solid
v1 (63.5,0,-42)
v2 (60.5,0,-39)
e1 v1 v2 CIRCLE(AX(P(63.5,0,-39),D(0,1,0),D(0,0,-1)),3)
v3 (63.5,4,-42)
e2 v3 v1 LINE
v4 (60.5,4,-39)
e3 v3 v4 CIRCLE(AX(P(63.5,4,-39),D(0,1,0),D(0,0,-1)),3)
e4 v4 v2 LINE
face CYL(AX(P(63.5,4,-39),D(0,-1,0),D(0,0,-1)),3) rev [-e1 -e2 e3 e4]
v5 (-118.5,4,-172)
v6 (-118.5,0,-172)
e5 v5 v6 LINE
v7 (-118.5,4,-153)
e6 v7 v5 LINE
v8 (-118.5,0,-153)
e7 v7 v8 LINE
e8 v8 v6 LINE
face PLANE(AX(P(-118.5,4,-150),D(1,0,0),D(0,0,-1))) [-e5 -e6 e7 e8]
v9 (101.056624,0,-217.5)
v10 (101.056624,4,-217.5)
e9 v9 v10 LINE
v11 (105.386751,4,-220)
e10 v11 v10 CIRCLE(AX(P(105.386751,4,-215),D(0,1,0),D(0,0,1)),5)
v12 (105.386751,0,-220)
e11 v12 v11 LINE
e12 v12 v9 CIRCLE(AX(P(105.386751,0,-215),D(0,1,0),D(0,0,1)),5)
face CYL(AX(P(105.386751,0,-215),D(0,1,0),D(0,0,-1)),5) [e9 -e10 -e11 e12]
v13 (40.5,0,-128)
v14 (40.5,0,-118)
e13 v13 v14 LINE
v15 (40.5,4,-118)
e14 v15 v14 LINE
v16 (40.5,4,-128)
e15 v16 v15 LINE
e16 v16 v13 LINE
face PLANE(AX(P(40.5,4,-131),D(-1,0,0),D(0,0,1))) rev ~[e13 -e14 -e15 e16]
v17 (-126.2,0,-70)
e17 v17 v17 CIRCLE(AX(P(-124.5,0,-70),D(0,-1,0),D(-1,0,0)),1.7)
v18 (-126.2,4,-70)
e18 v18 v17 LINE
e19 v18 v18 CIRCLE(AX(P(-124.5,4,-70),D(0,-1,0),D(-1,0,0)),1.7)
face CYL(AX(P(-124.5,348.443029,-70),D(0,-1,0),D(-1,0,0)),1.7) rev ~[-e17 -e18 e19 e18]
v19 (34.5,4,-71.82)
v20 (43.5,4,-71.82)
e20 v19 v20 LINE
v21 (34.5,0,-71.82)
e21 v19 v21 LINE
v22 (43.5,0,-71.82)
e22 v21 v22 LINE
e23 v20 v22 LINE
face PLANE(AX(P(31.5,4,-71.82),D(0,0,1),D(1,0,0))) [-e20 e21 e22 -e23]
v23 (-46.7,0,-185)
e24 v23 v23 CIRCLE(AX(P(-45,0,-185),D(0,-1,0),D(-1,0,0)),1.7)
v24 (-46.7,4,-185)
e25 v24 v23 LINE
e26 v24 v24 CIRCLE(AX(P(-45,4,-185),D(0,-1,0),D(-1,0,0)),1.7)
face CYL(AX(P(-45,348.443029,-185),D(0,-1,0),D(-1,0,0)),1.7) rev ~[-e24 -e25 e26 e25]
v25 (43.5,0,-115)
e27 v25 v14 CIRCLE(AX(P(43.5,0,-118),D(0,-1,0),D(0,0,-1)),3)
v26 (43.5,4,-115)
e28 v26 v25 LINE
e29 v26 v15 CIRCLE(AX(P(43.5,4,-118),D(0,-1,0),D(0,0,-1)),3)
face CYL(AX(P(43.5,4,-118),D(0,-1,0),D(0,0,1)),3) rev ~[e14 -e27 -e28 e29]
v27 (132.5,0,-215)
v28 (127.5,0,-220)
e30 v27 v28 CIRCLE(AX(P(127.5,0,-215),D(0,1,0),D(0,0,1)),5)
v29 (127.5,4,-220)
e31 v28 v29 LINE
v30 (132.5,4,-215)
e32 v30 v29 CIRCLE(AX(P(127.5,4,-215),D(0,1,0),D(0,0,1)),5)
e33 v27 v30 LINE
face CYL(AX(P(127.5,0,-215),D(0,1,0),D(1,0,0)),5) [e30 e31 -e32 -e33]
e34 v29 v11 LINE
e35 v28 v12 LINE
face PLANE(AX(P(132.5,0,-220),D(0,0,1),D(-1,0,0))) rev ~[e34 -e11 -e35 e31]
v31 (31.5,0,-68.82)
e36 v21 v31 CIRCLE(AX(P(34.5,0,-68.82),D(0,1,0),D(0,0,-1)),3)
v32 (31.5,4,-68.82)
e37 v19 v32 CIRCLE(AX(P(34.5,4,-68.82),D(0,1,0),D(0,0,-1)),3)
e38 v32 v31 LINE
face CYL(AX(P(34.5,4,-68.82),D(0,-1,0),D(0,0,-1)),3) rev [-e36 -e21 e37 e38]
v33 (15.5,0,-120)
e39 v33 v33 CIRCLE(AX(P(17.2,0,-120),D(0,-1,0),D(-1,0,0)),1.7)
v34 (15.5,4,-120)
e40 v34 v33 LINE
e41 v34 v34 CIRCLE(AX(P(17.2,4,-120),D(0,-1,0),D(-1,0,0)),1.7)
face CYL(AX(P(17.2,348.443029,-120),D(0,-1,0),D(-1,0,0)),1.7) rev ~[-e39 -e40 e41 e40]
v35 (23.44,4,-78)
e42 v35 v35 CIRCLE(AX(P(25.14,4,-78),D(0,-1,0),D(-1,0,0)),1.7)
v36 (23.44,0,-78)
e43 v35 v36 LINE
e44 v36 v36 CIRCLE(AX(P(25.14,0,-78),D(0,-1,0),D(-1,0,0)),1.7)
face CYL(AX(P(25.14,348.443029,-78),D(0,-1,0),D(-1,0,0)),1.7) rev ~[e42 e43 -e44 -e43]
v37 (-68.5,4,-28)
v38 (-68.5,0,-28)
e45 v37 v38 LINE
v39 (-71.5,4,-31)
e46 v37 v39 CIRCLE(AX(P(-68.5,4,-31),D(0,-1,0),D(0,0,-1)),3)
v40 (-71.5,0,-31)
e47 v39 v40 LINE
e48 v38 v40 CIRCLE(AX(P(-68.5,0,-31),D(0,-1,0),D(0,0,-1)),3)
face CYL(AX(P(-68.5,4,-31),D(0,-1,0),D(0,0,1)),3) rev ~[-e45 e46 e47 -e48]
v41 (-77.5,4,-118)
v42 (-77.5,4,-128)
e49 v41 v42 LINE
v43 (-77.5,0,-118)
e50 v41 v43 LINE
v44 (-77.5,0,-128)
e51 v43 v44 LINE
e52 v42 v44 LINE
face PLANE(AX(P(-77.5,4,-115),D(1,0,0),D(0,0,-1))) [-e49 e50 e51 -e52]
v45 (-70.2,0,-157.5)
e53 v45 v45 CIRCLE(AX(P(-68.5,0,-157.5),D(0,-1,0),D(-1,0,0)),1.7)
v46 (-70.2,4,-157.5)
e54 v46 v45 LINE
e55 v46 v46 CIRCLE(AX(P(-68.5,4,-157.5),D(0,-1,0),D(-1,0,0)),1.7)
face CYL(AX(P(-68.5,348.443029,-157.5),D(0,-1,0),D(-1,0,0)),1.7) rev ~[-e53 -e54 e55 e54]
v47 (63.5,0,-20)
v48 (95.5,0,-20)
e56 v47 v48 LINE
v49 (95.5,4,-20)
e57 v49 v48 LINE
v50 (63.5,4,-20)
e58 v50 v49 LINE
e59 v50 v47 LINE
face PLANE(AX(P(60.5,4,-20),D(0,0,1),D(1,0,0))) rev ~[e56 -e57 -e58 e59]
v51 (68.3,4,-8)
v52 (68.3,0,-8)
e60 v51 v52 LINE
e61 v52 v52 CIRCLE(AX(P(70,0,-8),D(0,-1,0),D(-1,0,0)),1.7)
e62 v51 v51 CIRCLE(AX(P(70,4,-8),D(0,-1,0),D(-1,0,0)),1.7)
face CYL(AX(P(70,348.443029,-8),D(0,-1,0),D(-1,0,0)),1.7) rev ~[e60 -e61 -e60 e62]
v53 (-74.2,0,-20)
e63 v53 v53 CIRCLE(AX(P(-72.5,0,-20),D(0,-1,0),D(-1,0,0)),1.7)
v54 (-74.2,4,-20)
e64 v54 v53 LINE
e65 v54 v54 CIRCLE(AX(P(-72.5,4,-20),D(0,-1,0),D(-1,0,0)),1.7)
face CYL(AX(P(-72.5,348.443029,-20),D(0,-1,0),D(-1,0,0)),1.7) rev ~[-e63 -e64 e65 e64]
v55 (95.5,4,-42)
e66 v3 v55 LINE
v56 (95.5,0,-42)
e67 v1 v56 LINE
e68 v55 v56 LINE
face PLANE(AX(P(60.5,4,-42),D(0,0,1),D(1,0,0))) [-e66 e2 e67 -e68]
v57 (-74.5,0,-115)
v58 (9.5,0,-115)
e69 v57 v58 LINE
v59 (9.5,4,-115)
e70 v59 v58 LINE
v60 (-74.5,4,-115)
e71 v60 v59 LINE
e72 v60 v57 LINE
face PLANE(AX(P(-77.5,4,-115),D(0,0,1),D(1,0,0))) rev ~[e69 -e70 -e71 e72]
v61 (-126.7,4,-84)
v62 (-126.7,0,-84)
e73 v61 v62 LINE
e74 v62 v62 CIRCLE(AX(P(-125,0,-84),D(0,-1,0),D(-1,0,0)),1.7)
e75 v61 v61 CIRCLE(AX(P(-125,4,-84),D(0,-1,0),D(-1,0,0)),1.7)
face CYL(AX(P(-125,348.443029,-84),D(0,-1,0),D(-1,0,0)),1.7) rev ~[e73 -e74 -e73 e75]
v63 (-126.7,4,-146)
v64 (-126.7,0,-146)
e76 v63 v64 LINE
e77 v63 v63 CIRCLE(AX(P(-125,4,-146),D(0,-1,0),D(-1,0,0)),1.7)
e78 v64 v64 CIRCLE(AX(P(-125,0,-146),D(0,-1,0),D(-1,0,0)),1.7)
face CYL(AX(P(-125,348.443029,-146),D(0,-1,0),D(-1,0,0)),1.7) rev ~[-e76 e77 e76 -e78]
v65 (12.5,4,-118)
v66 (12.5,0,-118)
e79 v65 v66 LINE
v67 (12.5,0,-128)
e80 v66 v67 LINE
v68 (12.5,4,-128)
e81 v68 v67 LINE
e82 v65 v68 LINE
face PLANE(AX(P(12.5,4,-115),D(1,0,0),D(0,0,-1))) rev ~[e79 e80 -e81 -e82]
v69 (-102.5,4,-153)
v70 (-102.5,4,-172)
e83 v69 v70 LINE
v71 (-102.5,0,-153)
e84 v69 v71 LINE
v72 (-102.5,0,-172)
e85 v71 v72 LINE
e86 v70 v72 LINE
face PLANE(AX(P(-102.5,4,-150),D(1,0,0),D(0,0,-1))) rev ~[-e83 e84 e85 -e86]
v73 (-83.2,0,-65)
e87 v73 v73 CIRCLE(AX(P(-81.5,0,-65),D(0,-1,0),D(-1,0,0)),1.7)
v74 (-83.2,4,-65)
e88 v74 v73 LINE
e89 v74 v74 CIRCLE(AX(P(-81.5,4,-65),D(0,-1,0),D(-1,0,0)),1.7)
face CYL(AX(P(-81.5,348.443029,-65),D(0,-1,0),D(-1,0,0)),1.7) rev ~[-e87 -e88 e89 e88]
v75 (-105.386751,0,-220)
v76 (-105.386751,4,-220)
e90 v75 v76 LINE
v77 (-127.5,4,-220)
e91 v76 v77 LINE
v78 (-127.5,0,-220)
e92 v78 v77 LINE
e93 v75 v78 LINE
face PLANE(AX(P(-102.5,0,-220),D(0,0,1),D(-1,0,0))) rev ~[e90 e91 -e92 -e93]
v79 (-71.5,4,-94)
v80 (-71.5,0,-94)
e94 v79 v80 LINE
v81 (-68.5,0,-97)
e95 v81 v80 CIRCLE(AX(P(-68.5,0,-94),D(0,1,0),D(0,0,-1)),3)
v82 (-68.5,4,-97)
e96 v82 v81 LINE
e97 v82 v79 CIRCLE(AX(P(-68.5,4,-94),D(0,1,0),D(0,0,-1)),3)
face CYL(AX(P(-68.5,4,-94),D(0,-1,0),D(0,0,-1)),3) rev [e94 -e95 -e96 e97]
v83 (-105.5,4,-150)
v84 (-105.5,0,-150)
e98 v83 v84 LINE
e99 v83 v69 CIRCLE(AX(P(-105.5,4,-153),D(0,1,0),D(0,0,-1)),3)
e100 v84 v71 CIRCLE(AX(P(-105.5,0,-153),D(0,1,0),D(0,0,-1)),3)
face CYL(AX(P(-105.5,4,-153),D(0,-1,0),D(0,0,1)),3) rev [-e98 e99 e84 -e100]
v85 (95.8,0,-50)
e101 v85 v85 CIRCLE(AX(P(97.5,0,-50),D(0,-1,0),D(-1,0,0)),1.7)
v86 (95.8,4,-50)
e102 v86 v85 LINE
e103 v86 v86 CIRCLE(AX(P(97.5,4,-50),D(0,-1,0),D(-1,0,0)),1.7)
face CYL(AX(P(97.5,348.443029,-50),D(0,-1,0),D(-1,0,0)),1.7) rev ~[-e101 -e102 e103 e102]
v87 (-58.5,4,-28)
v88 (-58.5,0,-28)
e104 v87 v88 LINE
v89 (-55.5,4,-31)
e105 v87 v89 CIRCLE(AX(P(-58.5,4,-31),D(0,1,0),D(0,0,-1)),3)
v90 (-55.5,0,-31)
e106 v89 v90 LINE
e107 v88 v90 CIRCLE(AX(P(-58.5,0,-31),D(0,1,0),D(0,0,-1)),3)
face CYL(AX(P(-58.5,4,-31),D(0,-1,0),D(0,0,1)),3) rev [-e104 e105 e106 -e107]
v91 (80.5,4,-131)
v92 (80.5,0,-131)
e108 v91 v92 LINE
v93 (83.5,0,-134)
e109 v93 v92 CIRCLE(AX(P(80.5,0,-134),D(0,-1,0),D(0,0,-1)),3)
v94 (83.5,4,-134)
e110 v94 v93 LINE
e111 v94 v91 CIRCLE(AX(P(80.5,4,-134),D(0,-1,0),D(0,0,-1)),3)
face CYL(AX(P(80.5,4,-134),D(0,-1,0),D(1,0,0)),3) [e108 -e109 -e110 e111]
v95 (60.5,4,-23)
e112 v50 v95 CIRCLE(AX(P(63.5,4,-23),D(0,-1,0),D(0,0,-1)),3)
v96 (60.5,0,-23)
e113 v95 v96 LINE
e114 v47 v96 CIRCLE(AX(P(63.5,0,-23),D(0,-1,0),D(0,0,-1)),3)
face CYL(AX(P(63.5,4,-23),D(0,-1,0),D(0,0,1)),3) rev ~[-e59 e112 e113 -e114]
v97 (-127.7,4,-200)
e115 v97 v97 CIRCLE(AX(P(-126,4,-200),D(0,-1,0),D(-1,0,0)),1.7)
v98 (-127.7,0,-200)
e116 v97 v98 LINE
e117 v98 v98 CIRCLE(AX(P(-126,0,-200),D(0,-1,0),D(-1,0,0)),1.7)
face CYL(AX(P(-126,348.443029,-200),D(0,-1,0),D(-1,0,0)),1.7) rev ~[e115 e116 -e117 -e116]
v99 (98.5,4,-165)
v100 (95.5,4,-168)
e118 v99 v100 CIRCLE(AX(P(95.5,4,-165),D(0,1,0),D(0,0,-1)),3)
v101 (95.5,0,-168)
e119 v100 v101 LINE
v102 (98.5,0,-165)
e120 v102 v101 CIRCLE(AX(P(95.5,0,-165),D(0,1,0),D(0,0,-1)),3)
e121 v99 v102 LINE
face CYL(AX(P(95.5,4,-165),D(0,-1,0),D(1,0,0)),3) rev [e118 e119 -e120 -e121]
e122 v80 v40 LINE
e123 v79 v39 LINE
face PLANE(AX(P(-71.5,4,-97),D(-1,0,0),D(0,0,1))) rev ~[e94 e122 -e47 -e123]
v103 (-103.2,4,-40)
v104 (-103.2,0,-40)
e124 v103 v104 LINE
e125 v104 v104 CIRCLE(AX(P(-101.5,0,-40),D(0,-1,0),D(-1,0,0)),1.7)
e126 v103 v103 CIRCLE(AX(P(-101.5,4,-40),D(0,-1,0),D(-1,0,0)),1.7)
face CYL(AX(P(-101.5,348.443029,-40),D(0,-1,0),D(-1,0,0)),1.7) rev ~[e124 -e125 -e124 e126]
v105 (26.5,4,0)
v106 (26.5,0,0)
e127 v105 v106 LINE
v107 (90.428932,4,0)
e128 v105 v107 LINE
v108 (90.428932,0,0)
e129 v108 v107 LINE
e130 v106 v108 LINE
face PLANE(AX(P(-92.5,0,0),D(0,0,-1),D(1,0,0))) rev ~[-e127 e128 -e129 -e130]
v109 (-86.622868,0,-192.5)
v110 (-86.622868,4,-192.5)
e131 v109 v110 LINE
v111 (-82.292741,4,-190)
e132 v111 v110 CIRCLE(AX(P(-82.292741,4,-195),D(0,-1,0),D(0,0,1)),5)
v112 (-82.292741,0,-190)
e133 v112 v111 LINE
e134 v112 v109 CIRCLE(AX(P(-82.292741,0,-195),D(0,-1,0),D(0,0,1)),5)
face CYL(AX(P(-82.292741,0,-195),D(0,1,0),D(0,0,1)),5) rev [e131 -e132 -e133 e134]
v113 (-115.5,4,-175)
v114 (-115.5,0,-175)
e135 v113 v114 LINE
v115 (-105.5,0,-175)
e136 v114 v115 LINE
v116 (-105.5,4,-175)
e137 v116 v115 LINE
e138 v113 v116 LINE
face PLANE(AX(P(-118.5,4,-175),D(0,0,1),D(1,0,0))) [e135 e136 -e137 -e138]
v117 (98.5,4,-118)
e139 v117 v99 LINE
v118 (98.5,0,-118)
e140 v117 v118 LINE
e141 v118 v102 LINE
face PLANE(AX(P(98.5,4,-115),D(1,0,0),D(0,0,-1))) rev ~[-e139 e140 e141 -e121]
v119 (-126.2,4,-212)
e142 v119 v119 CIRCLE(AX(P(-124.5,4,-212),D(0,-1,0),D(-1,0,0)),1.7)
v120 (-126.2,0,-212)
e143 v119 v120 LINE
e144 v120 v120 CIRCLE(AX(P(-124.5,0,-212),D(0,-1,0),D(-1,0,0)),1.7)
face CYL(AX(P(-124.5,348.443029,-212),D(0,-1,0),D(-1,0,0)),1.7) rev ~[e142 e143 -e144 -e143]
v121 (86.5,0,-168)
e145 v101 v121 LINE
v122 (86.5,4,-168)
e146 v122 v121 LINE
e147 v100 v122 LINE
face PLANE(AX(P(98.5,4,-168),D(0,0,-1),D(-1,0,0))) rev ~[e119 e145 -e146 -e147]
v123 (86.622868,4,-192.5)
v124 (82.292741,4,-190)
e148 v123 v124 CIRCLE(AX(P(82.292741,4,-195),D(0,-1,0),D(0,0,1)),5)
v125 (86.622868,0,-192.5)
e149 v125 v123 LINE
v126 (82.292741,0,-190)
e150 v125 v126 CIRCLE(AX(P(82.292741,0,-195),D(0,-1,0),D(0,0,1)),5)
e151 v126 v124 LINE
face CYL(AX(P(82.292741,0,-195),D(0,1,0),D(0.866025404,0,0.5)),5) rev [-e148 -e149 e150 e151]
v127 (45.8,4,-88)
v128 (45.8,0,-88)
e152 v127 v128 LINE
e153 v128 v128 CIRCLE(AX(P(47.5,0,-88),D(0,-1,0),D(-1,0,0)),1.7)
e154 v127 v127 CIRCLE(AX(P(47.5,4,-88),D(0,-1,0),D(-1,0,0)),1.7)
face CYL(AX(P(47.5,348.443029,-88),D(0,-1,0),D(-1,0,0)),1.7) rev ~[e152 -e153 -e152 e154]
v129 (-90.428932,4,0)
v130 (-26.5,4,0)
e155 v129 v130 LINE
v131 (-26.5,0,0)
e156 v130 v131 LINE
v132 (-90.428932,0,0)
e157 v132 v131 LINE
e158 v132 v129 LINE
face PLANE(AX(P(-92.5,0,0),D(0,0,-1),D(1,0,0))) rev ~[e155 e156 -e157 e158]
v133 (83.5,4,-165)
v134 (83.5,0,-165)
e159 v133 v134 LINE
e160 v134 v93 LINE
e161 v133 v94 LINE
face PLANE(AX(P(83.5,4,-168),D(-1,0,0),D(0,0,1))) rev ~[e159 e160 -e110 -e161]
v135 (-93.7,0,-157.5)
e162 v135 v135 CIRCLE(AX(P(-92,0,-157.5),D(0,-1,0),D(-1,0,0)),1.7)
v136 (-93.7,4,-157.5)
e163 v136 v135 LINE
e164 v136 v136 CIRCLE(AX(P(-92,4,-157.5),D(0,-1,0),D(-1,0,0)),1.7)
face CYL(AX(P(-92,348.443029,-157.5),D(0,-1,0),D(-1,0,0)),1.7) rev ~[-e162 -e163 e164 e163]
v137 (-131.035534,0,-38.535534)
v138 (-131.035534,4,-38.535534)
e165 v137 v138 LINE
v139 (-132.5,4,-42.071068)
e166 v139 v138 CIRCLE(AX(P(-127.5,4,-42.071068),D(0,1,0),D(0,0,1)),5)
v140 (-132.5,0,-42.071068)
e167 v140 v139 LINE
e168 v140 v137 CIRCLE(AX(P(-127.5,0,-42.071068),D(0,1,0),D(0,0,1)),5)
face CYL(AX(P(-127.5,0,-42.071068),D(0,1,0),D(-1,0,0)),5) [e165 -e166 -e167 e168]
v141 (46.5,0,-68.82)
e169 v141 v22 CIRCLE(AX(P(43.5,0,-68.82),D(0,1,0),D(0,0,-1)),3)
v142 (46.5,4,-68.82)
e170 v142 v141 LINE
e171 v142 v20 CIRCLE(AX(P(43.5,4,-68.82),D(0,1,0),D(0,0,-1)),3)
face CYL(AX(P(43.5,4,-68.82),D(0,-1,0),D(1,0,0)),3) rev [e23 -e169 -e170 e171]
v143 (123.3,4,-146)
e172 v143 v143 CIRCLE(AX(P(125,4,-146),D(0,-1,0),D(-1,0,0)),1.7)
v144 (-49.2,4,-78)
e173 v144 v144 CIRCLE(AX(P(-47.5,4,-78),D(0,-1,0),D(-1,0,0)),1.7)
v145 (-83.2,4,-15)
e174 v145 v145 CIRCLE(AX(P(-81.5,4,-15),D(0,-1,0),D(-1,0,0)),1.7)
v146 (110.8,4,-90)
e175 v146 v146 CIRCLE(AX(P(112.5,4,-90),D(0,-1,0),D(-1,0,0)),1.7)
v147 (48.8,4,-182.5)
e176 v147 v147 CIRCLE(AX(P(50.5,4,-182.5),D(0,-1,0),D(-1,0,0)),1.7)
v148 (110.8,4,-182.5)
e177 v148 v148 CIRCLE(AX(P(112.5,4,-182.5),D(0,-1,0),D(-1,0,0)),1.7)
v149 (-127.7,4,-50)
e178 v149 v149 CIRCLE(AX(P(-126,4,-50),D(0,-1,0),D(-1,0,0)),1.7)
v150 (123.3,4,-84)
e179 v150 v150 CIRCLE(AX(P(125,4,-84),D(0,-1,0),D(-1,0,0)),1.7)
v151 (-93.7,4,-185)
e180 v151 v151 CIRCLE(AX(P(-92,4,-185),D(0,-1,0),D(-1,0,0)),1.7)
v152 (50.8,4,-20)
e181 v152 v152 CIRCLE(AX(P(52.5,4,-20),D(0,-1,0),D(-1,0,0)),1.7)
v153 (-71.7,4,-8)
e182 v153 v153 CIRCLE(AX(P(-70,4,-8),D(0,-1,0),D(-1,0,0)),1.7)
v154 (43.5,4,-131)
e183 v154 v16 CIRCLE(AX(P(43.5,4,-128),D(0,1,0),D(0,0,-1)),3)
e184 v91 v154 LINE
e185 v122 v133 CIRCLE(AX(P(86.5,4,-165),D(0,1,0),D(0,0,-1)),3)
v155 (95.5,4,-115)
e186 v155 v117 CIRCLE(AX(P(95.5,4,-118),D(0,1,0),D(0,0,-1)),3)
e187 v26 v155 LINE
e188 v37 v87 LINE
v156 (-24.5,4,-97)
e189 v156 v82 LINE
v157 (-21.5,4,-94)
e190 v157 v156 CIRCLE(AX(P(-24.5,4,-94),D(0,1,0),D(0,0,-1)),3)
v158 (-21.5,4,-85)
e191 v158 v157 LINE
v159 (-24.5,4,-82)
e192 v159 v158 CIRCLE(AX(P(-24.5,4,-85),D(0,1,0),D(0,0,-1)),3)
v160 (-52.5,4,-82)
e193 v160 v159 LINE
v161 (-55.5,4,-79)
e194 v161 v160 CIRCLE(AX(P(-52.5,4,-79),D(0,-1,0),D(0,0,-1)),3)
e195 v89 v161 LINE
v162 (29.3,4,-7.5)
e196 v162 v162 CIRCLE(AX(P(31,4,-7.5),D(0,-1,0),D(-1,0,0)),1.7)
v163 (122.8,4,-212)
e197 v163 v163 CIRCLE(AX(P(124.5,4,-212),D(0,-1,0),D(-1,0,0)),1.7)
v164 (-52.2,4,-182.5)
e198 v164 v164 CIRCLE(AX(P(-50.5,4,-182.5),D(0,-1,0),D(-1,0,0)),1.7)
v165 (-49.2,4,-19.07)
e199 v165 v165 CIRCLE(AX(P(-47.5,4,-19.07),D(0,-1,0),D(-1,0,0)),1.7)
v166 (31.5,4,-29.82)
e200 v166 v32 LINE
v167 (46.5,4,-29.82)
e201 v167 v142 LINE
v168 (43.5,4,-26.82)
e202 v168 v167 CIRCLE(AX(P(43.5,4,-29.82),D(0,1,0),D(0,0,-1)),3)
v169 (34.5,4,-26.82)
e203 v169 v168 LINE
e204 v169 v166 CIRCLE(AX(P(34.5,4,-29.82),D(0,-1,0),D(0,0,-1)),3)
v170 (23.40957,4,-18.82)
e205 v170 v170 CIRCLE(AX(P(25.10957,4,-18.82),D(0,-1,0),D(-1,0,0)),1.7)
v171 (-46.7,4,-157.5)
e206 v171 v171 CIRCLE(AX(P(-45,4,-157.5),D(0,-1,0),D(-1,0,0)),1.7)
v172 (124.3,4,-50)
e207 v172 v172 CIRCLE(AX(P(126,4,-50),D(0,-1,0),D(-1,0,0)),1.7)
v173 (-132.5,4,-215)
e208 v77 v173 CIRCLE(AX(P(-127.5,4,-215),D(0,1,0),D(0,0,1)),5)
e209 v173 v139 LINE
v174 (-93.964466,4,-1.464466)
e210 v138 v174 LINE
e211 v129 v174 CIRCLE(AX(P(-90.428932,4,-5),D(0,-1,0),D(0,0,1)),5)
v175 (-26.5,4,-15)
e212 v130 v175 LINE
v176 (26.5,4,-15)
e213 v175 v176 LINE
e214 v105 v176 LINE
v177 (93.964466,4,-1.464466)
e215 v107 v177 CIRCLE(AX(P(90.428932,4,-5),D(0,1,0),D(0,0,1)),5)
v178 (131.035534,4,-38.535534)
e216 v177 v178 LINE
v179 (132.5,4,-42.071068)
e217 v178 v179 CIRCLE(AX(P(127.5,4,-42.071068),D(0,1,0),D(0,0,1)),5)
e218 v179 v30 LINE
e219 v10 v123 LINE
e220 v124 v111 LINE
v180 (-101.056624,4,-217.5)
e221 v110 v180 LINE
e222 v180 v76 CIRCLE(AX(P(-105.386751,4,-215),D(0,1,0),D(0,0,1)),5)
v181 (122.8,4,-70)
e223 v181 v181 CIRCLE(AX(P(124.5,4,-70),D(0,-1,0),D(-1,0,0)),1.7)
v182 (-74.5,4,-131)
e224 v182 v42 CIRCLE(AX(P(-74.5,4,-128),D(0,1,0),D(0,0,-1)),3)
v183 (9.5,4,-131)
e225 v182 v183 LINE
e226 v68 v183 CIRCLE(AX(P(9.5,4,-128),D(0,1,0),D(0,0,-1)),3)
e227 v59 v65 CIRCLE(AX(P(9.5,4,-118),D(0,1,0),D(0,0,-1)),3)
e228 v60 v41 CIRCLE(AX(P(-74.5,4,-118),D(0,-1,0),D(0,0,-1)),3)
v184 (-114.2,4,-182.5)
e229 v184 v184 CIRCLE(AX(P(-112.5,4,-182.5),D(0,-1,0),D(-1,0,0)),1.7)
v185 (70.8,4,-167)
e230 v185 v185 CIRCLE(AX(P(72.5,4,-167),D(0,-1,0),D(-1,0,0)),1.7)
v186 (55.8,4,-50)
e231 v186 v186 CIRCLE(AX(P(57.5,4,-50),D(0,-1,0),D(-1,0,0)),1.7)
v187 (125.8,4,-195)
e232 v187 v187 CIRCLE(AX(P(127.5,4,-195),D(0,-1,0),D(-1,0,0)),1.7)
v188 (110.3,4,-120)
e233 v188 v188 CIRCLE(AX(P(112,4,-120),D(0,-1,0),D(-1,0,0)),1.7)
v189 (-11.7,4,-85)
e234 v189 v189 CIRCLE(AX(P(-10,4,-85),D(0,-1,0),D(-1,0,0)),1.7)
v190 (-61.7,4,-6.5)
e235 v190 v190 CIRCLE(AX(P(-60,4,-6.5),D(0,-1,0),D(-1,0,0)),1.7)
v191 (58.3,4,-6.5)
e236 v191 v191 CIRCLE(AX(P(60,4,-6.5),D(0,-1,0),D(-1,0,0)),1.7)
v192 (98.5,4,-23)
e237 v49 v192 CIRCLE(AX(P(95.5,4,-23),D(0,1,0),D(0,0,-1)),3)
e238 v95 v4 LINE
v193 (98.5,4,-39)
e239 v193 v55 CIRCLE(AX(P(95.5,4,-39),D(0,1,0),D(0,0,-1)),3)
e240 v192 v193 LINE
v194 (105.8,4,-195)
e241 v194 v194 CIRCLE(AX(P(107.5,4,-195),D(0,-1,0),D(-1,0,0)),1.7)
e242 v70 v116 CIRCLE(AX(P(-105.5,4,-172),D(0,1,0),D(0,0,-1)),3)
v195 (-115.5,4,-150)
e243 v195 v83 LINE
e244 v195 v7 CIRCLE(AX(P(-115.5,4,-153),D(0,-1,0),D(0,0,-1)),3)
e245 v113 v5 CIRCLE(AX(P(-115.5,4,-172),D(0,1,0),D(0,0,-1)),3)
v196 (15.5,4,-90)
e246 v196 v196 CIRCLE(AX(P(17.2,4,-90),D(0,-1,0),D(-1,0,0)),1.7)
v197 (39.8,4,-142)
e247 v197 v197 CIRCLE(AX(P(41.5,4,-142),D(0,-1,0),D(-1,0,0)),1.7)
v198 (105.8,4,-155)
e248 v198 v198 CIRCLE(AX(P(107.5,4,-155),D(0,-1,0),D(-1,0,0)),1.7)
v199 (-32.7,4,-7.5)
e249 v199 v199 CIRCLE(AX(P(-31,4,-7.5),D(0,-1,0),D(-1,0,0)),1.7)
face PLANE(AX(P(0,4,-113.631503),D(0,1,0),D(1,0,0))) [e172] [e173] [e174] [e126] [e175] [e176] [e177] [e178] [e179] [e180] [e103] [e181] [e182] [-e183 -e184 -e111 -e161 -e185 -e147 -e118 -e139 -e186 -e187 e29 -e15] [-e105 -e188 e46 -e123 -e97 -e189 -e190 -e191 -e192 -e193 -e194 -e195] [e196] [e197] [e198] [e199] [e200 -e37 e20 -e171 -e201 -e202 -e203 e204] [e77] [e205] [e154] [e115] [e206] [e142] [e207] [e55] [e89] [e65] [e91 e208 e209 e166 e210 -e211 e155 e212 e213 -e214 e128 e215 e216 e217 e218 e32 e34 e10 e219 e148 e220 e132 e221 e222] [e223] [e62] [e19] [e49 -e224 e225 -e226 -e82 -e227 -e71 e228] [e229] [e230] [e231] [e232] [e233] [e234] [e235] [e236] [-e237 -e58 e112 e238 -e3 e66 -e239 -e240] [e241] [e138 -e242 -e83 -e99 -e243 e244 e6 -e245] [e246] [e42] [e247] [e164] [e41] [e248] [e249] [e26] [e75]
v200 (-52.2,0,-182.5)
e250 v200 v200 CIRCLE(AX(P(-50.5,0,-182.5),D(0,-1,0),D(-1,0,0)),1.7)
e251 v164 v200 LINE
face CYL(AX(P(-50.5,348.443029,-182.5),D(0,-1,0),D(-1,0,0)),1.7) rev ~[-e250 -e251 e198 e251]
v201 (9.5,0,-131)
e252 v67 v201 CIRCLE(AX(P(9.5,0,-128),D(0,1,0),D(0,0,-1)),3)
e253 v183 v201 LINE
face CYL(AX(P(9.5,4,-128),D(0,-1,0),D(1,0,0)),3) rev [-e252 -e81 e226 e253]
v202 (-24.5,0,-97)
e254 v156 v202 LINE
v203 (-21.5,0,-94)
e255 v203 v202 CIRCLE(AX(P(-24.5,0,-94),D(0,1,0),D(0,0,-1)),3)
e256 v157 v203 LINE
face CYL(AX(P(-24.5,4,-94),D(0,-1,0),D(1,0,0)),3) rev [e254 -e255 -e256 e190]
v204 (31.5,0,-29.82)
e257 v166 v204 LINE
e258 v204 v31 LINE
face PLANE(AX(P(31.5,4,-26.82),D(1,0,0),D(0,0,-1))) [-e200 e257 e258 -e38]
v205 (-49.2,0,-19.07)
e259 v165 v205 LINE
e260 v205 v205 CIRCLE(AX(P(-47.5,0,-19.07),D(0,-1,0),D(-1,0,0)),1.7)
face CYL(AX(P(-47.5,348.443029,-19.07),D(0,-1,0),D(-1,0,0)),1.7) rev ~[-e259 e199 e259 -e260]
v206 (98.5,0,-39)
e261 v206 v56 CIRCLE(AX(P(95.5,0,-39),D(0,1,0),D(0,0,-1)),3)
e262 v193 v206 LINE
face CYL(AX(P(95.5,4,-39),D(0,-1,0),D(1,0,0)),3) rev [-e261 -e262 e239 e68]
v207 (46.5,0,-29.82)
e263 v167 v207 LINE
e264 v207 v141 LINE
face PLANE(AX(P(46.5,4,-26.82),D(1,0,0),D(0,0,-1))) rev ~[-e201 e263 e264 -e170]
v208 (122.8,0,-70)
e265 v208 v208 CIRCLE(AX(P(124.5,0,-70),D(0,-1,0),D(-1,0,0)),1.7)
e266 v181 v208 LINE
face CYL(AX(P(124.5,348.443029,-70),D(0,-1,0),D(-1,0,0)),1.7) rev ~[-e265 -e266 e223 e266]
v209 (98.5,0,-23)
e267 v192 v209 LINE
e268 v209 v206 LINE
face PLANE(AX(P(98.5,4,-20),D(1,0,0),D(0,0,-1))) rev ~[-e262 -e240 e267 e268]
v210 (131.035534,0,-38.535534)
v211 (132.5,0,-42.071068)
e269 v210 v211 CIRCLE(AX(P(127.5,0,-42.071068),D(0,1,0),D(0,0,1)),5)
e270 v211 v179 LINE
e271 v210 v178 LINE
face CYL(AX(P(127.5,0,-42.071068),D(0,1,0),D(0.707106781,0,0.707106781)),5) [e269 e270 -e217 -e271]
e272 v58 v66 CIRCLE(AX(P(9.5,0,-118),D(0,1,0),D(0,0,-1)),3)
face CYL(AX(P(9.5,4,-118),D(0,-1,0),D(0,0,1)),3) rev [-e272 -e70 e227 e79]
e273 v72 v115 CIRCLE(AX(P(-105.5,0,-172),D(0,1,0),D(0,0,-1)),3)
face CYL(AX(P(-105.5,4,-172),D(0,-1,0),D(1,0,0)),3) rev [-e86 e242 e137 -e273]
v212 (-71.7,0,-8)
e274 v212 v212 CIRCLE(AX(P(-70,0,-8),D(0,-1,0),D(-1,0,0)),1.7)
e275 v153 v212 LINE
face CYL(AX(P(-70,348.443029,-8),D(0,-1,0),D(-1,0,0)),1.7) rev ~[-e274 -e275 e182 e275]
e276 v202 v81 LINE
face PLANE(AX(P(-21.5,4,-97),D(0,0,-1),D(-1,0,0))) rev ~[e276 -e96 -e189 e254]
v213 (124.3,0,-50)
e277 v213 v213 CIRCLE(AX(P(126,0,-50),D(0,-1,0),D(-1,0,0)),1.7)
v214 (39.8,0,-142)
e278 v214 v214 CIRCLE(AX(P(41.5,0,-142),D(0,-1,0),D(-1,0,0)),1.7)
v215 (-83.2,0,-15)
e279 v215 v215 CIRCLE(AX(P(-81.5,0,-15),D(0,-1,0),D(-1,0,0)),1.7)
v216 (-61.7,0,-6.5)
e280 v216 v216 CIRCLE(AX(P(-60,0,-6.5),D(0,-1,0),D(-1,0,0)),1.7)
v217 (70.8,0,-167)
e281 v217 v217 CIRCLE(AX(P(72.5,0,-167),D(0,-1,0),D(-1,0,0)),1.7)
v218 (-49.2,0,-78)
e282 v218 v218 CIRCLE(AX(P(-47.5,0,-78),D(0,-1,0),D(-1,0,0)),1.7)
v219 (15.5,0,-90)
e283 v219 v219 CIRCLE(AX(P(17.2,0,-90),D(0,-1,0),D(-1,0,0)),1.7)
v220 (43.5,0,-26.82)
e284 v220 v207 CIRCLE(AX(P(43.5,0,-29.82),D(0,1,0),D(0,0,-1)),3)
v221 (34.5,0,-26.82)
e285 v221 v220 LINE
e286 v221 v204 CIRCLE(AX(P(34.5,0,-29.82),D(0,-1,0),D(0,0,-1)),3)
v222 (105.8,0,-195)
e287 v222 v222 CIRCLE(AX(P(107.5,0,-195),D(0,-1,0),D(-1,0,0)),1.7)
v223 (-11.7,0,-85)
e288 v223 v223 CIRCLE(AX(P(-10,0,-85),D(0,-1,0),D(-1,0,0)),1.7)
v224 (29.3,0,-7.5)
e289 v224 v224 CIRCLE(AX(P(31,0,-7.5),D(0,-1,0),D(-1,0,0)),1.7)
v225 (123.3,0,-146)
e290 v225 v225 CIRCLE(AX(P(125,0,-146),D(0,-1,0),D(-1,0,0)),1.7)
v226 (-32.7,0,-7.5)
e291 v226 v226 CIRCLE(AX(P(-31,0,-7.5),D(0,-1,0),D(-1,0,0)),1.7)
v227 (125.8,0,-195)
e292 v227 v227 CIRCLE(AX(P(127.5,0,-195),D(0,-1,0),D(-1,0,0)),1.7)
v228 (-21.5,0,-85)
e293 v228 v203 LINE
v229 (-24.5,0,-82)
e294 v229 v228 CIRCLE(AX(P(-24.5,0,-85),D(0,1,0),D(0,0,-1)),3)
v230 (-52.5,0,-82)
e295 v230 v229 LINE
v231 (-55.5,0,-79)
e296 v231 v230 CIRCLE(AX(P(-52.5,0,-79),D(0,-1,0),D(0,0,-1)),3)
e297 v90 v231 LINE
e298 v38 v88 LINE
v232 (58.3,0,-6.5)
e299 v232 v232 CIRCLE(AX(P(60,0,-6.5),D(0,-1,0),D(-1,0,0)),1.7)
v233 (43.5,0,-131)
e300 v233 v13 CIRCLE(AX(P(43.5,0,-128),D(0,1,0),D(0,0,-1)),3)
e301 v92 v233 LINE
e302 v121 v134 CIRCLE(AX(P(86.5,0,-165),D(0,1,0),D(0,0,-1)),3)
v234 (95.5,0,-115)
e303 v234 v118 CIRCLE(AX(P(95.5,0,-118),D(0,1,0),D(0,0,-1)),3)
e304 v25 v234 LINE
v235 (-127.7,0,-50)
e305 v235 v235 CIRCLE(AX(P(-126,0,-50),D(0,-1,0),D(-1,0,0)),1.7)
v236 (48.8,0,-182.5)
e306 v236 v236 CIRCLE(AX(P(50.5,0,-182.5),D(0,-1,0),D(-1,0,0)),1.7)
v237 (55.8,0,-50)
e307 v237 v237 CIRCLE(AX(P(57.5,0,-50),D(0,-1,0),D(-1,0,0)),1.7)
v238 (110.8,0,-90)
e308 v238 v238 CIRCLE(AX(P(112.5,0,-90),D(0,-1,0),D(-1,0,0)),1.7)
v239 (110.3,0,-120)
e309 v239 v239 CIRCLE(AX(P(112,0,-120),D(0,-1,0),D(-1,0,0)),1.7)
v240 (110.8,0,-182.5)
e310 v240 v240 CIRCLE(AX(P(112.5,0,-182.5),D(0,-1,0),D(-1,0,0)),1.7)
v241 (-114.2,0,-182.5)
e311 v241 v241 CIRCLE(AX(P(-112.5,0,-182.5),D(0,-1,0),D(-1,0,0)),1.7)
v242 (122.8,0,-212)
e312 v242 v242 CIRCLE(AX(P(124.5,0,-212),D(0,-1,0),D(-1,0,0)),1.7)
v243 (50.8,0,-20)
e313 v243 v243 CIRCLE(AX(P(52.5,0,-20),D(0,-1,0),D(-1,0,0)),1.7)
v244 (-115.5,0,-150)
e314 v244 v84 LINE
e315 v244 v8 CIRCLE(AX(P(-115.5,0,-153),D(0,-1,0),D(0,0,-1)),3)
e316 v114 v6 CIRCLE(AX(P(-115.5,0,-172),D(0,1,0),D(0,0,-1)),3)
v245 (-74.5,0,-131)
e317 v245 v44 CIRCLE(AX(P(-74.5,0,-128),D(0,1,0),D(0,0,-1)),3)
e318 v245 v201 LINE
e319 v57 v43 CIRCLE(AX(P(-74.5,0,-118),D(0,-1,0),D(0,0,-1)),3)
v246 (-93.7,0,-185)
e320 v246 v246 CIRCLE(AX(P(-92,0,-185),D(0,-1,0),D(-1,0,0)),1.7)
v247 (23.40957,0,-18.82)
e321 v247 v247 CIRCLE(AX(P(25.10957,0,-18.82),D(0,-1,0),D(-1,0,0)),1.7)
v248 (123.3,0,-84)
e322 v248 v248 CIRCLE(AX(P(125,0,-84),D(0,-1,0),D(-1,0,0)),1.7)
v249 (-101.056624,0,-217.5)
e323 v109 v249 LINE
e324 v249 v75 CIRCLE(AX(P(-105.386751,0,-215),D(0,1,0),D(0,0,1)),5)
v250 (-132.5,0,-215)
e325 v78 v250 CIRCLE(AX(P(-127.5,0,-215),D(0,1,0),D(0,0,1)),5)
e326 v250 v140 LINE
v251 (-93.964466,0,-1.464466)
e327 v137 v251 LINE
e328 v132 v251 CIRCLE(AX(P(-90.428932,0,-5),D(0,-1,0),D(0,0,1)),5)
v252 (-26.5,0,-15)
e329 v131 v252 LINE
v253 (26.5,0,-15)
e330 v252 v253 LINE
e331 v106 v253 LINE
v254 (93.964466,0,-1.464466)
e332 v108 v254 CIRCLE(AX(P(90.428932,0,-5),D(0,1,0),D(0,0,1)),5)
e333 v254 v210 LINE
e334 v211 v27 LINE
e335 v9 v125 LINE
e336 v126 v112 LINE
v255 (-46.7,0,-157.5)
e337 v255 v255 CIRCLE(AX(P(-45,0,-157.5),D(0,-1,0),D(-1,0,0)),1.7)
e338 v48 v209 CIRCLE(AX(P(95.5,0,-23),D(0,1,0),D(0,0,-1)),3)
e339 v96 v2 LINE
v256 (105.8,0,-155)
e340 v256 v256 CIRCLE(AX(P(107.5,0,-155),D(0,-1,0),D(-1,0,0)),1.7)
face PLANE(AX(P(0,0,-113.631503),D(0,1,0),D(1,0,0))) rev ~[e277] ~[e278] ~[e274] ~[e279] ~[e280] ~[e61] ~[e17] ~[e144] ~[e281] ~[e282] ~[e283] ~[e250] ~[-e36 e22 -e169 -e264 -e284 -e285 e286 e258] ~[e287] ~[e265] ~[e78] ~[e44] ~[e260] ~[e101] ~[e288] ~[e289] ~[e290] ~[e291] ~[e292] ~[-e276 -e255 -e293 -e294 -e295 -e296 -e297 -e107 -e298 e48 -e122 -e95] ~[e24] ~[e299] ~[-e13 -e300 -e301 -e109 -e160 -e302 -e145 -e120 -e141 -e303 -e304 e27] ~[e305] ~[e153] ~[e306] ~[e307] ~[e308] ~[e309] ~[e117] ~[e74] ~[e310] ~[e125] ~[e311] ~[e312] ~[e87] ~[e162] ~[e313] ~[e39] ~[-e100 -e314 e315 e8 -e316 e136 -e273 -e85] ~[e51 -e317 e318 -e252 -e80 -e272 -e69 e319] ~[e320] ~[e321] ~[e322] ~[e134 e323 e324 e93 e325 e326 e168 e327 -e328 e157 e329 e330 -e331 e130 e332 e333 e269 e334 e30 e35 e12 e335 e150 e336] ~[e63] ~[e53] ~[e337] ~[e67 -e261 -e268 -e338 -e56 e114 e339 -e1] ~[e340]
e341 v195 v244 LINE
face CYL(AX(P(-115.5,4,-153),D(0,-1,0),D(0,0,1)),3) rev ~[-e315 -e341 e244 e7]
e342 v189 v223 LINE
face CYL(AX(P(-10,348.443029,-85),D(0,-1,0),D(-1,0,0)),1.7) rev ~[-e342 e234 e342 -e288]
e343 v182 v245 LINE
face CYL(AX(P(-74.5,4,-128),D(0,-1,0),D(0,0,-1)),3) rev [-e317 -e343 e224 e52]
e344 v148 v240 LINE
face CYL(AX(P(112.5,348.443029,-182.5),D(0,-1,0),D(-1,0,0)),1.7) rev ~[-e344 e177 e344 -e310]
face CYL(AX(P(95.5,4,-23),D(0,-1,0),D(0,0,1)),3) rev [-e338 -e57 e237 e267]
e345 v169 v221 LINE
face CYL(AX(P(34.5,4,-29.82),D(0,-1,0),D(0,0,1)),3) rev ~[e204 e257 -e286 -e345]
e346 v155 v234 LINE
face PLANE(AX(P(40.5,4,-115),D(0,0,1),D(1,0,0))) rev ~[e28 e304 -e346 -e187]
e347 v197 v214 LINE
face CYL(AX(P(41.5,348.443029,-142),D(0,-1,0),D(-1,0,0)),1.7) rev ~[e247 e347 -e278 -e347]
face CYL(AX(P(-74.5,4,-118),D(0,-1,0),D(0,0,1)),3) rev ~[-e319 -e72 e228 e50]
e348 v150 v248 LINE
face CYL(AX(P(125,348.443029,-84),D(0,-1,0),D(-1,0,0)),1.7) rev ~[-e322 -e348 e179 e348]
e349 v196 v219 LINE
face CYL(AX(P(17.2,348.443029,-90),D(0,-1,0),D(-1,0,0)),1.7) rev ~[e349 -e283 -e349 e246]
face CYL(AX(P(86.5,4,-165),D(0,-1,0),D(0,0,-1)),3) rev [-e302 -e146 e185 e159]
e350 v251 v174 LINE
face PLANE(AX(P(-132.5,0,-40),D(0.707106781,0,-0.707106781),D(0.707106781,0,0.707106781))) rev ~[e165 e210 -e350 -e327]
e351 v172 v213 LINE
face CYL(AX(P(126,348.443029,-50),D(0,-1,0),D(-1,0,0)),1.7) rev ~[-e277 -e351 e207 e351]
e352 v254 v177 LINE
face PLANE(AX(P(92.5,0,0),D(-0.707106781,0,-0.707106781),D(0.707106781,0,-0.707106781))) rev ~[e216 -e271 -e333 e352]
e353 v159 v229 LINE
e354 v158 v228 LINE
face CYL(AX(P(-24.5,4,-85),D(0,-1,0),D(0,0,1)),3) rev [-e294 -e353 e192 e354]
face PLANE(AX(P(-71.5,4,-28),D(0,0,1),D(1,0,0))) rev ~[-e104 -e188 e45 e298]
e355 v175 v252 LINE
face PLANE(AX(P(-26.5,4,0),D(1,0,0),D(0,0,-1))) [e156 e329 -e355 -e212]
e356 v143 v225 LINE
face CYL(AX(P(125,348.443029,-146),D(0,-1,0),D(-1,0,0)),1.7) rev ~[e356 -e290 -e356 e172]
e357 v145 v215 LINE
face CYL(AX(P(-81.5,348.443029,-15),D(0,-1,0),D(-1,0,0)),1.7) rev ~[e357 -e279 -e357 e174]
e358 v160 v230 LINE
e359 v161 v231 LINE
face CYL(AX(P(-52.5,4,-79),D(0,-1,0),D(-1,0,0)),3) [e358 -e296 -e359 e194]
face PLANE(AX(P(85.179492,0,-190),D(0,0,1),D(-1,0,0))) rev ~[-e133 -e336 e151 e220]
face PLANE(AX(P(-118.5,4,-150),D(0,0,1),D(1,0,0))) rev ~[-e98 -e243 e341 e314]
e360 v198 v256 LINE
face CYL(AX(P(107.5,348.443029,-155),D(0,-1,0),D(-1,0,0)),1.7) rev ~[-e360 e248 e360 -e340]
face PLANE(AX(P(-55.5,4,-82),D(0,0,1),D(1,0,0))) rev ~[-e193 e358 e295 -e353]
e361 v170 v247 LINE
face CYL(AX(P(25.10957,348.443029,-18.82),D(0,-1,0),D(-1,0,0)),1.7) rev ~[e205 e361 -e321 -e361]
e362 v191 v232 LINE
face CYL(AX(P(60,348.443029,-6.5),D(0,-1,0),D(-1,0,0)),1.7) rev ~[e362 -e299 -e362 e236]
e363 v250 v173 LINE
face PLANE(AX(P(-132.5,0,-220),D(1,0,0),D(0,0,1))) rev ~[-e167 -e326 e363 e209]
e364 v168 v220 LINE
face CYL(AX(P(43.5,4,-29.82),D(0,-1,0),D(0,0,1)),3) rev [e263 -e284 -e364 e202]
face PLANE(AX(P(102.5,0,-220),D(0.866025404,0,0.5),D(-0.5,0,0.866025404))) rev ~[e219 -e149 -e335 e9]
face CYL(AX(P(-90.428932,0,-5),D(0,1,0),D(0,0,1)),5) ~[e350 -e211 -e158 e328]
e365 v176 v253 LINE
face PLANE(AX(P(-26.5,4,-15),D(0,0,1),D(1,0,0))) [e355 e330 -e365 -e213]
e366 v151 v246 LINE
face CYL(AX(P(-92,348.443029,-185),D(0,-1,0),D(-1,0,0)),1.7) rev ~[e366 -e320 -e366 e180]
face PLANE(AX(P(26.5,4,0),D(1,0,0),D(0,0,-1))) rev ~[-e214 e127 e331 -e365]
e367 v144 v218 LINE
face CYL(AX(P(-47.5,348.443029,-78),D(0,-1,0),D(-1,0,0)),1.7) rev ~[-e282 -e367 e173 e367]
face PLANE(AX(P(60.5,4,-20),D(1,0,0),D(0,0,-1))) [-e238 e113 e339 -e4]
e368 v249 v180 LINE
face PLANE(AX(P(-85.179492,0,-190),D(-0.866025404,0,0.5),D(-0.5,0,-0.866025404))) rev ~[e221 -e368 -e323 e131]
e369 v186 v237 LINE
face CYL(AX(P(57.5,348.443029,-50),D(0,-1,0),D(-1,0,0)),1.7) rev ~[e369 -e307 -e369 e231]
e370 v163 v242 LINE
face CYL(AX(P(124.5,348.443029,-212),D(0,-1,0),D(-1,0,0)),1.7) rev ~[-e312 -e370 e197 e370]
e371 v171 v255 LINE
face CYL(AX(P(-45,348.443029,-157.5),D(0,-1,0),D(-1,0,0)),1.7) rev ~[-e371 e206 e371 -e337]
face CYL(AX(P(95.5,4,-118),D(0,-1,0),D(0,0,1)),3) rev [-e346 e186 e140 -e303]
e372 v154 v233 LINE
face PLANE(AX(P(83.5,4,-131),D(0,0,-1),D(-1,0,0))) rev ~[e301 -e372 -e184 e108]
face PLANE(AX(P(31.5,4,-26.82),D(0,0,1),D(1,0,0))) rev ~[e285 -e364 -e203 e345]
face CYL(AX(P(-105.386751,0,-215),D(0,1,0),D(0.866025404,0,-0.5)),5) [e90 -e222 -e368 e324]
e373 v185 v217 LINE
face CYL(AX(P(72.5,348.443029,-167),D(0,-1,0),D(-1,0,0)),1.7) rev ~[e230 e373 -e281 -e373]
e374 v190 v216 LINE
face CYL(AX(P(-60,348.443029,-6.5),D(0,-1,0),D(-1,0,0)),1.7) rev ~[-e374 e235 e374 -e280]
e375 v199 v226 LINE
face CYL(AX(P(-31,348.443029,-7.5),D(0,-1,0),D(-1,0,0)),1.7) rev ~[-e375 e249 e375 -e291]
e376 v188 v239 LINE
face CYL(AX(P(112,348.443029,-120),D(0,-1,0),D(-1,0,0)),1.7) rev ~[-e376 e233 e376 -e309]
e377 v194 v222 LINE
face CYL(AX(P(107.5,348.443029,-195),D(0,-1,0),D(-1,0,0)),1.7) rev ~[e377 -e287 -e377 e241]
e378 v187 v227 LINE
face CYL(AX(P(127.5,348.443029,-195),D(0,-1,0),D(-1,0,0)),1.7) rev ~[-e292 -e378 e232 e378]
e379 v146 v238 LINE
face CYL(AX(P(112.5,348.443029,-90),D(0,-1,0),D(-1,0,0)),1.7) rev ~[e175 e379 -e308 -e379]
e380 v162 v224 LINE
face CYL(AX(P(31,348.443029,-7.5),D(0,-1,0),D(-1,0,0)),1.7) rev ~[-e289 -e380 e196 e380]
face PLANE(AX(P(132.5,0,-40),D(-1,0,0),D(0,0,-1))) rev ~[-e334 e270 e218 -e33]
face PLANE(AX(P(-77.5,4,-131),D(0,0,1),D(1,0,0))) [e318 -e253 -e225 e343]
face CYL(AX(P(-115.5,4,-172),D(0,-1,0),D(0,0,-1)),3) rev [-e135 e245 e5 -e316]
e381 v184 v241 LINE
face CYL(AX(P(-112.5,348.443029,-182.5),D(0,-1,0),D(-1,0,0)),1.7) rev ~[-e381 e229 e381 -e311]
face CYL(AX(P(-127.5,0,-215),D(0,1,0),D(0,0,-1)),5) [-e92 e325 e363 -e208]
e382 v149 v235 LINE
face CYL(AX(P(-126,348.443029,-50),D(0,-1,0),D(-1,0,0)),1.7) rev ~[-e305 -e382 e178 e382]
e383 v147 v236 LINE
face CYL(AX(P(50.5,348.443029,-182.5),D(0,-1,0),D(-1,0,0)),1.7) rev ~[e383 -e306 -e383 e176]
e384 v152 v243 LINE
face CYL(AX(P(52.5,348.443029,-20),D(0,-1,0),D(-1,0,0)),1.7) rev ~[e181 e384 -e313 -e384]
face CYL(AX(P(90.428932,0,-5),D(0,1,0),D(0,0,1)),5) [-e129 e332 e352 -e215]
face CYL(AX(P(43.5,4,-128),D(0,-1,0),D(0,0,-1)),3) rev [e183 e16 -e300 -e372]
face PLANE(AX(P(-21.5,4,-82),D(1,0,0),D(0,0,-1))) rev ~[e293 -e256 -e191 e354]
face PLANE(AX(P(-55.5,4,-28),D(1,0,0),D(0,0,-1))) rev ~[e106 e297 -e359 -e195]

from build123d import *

# Parameters (mm, degrees)
MAIN_EXTRUSION_DEPTH    = 4
CONG_1_R                = 5
ESQUISSE1_R             = 1
ENL_V_MAT_EXTRU_1_DEPTH = 257.850637531
D_GAGEMENT_M31_D        = 3.4
ESQUISSE4_R             = 1
ESQUISSE4_R_2           = 1.5
ESQUISSE4_W             = 53
ESQUISSE4_H             = 15
ENL_V_MAT_EXTRU_2_DEPTH = 257.850637531
D_GAGEMENT_M32_D        = 3.4
ESQUISSE7_W             = 90
ESQUISSE7_H             = 16
ESQUISSE7_W_2           = 38
ESQUISSE7_H_2           = 22
ESQUISSE7_W_3           = 16
ESQUISSE7_H_3           = 25
ESQUISSE7_W_4           = 15
ESQUISSE7_H_4           = 45
ENL_V_MAT_EXTRU_3_DEPTH = 4
CONG_2_R                = 3


with BuildPart() as part:
    # Main scetch → Main extrusion (new body)
    with BuildSketch(Plane(origin=(0, 0, 0), x_dir=(1, 0, 0), z_dir=(0, 1, 0))):
        Polygon((-92.5, 0), (92.5, 0), (132.5, 40), (132.5, 220), (102.5, 220), (85.179491924, 190), (-85.179491924, 190), (-102.5, 220), (-132.5, 220), (-132.5, 40), align=None)
    extrude(amount=MAIN_EXTRUSION_DEPTH)

    # Congé1
    cong_1_edges = [part.edges().sort_by_distance(p)[0] for p in [
        (132.5, 2, -220),
        (132.5, 2, -40),
        (92.5, 2, 0),
        (-92.5, 2, 0),
        (-132.5, 2, -40),
        (-132.5, 2, -220),
        (-102.5, 2, -220),
        (-85.179491924, 2, -190),
        (85.179491924, 2, -190),
        (102.5, 2, -220),
    ]]
    fillet(cong_1_edges, radius=CONG_1_R)

    # Esquisse1 → Enlèv. mat.-Extru.1 (cut, through all)
    with BuildSketch(Plane(origin=(0, 4, 0), x_dir=(1, 0, 0), z_dir=(0, 1, 0))):
        with Locations(Location((70, 8, 0), (0, 0, 270))):
            Circle(ESQUISSE1_R)
        with Locations(Location((124.5, 70, 0), (0, 0, 270))):
            Circle(ESQUISSE1_R)
        with Locations(Location((124.5, 212, 0), (0, 0, 270))):
            Circle(ESQUISSE1_R)
        with Locations(Location((-124.5, 212, 0), (0, 0, 90))):
            Circle(ESQUISSE1_R)
        with Locations(Location((-124.5, 70, 0), (0, 0, 90))):
            Circle(ESQUISSE1_R)
        with Locations(Location((-70, 8, 0), (0, 0, 90))):
            Circle(ESQUISSE1_R)
    extrude(amount=-ENL_V_MAT_EXTRU_1_DEPTH, mode=Mode.SUBTRACT)

    # Dégagement M31 (through all)
    with Locations(Plane(origin=(0, 4, 0), x_dir=(1, 0, 0), z_dir=(0, 1, 0))):
        with Locations((-124.5, 212), (-124.5, 70), (-70, 8), (70, 8), (124.5, 70), (124.5, 212)):
            Hole(D_GAGEMENT_M31_D / 2)

    # Esquisse4 → Enlèv. mat.-Extru.2 (cut, through all)
    with BuildSketch(Plane(origin=(0, 4, 0), x_dir=(1, 0, 0), z_dir=(0, 1, 0))):
        with Locations(Location((72.5, 167, 0), (0, 0, 270))):
            Circle(ESQUISSE4_R)
        with Locations(Location((41.5, 142, 0), (0, 0, 270))):
            Circle(ESQUISSE4_R)
        with Locations(Location((107.5, 155, 0), (0, 0, 270))):
            Circle(ESQUISSE4_R)
        with Locations(Location((127.5, 195, 0), (0, 0, 270))):
            Circle(ESQUISSE4_R)
        with Locations(Location((112, 120, 0), (0, 0, 270))):
            Circle(ESQUISSE4_R)
        with Locations(Location((112.5, 90, 0), (0, 0, 270))):
            Circle(ESQUISSE4_R)
        with Locations(Location((17.2, 120, 0), (0, 0, 270))):
            Circle(ESQUISSE4_R)
        with Locations(Location((17.2, 90, 0), (0, 0, 270))):
            Circle(ESQUISSE4_R)
        with Locations(Location((47.5, 88, 0), (0, 0, 270))):
            Circle(ESQUISSE4_R)
        with Locations(Location((57.5, 50, 0), (0, 0, 270))):
            Circle(ESQUISSE4_R)
        with Locations(Location((97.5, 50, 0), (0, 0, 270))):
            Circle(ESQUISSE4_R)
        with Locations(Location((52.5, 20, 0), (0, 0, 270))):
            Circle(ESQUISSE4_R)
        with Locations(Location((-10, 85, 0), (0, 0, 270))):
            Circle(ESQUISSE4_R)
        with Locations(Location((-72.5, 20, 0), (0, 0, 270))):
            Circle(ESQUISSE4_R)
        with Locations(Location((107.5, 195, 0), (0, 0, 270))):
            Circle(ESQUISSE4_R)
        with Locations(Location((-47.5, 78, 0), (0, 0, 270))):
            Circle(ESQUISSE4_R)
        with Locations(Location((25.14, 78, 0), (0, 0, 270))):
            Circle(ESQUISSE4_R)
        with Locations(Location((-47.5, 19.07, 0), (0, 0, 270))):
            Circle(ESQUISSE4_R)
        with Locations(Location((25.109569617, 18.82, 0), (0, 0, 270))):
            Circle(ESQUISSE4_R)
        with Locations(Location((-125, 146, 0), (0, 0, 270))):
            Circle(ESQUISSE4_R)
        with Locations(Location((-125, 84, 0), (0, 0, 270))):
            Circle(ESQUISSE4_R)
        with Locations(Location((-31, 7.5, 0), (0, 0, 270))):
            Circle(ESQUISSE4_R)
        with Locations(Location((31, 7.5, 0), (0, 0, 270))):
            Circle(ESQUISSE4_R)
        with Locations(Location((125, 146, 0), (0, 0, 270))):
            Circle(ESQUISSE4_R)
        with Locations(Location((125, 84, 0), (0, 0, 270))):
            Circle(ESQUISSE4_R)
        with Locations(Location((50.5, 182.5, 0), (0, 0, 270))):
            Circle(ESQUISSE4_R)
        with Locations(Location((112.5, 182.5, 0), (0, 0, 270))):
            Circle(ESQUISSE4_R)
        with Locations(Location((-112.5, 182.5, 0), (0, 0, 270))):
            Circle(ESQUISSE4_R)
        with Locations(Location((-50.5, 182.5, 0), (0, 0, 270))):
            Circle(ESQUISSE4_R)
        with Locations(Location((-45, 185, 0), (0, 0, 270))):
            Circle(ESQUISSE4_R)
        with Locations(Location((-45, 157.5, 0), (0, 0, 270))):
            Circle(ESQUISSE4_R)
        with Locations(Location((-68.5, 157.5, 0), (0, 0, 270))):
            Circle(ESQUISSE4_R)
        with Locations(Location((-92, 157.5, 0), (0, 0, 270))):
            Circle(ESQUISSE4_R)
        with Locations(Location((-92, 185, 0), (0, 0, 270))):
            Circle(ESQUISSE4_R)
        with Locations(Location((126, 50, 0), (0, 0, 270))):
            Circle(ESQUISSE4_R_2)
        with Locations(Location((-60, 6.5, 0), (0, 0, 270))):
            Circle(ESQUISSE4_R_2)
        with Locations(Location((60, 6.5, 0), (0, 0, 270))):
            Circle(ESQUISSE4_R_2)
        with Locations(Location((-126, 50, 0), (0, 0, 270))):
            Circle(ESQUISSE4_R_2)
        with Locations(Location((-126, 200, 0), (0, 0, 270))):
            Circle(ESQUISSE4_R_2)
        with Locations(Location((-81.5, 65, 0), (0, 0, 270))):
            Circle(ESQUISSE4_R_2)
        with Locations(Location((-81.5, 15, 0), (0, 0, 270))):
            Circle(ESQUISSE4_R_2)
        with Locations(Location((-101.5, 40, 0), (0, 0, 270))):
            Circle(ESQUISSE4_R_2)
        with Locations((0, 7.5)):
            Rectangle(ESQUISSE4_W, ESQUISSE4_H)
    extrude(amount=-ENL_V_MAT_EXTRU_2_DEPTH, mode=Mode.SUBTRACT)

    # Dégagement M32 (through all)
    with Locations(Plane(origin=(0, 4, 0), x_dir=(1, 0, 0), z_dir=(0, 1, 0))):
        with Locations((17.2, 120), (41.5, 142), (72.5, 167), (107.5, 155), (127.5, 195), (112, 120), (112.5, 90), (47.5, 88), (17.2, 90), (57.5, 50), (97.5, 50), (-10, 85), (-72.5, 20), (52.5, 20), (107.5, 195), (-47.5, 78), (25.14, 78), (-47.5, 19.07), (25.109569617, 18.82), (-125, 146), (-125, 84), (-31, 7.5), (31, 7.5), (125, 146), (125, 84), (-112.5, 182.5), (-50.5, 182.5), (50.5, 182.5), (112.5, 182.5), (-92, 185), (-92, 157.5), (-68.5, 157.5), (-45, 157.5), (-45, 185), (126, 50), (-60, 6.5), (60, 6.5), (-126, 200), (-126, 50), (-81.5, 65), (-81.5, 15), (-101.5, 40)):
            Hole(D_GAGEMENT_M32_D / 2)

    # Esquisse7 → Enlèv. mat.-Extru.3 (cut)
    with BuildSketch(Plane(origin=(0, 4, 0), x_dir=(1, 0, 0), z_dir=(0, 1, 0))):
        with Locations((-32.5, 123)):
            Rectangle(ESQUISSE7_W, ESQUISSE7_H)
        Polygon((40.5, 115), (98.5, 115), (98.5, 168), (83.5, 168), (83.5, 131), (40.5, 131), align=None)
        with Locations((79.5, 31)):
            Rectangle(ESQUISSE7_W_2, ESQUISSE7_H_2)
        with Locations((-110.5, 162.5)):
            Rectangle(ESQUISSE7_W_3, ESQUISSE7_H_3)
        Polygon((-71.5, 28), (-55.5, 28), (-55.5, 82), (-21.5, 82), (-21.5, 97), (-71.5, 97), (-71.5, 83), align=None)
        with Locations((39, 49.32)):
            Rectangle(ESQUISSE7_W_4, ESQUISSE7_H_4)
    extrude(amount=-ENL_V_MAT_EXTRU_3_DEPTH, mode=Mode.SUBTRACT)

    # Congé2
    cong_2_edges = [part.edges().sort_by_distance(p)[0] for p in [
        (-102.5, 2, -150),
        (-102.5, 2, -175),
        (-118.5, 2, -175),
        (-118.5, 2, -150),
        (83.5, 2, -168),
        (83.5, 2, -131),
        (40.5, 2, -131),
        (40.5, 2, -115),
        (98.5, 2, -115),
        (98.5, 2, -168),
        (98.5, 2, -20),
        (98.5, 2, -42),
        (60.5, 2, -42),
        (60.5, 2, -20),
        (-55.5, 2, -28),
        (-55.5, 2, -82),
        (-21.5, 2, -82),
        (-21.5, 2, -97),
        (-71.5, 2, -97),
        (-71.5, 2, -28),
        (46.5, 2, -26.82),
        (46.5, 2, -71.82),
        (31.5, 2, -71.82),
        (31.5, 2, -26.82),
        (12.5, 2, -115),
        (12.5, 2, -131),
        (-77.5, 2, -131),
        (-77.5, 2, -115),
    ]]
    fillet(cong_2_edges, radius=CONG_2_R)


solid = part.part
